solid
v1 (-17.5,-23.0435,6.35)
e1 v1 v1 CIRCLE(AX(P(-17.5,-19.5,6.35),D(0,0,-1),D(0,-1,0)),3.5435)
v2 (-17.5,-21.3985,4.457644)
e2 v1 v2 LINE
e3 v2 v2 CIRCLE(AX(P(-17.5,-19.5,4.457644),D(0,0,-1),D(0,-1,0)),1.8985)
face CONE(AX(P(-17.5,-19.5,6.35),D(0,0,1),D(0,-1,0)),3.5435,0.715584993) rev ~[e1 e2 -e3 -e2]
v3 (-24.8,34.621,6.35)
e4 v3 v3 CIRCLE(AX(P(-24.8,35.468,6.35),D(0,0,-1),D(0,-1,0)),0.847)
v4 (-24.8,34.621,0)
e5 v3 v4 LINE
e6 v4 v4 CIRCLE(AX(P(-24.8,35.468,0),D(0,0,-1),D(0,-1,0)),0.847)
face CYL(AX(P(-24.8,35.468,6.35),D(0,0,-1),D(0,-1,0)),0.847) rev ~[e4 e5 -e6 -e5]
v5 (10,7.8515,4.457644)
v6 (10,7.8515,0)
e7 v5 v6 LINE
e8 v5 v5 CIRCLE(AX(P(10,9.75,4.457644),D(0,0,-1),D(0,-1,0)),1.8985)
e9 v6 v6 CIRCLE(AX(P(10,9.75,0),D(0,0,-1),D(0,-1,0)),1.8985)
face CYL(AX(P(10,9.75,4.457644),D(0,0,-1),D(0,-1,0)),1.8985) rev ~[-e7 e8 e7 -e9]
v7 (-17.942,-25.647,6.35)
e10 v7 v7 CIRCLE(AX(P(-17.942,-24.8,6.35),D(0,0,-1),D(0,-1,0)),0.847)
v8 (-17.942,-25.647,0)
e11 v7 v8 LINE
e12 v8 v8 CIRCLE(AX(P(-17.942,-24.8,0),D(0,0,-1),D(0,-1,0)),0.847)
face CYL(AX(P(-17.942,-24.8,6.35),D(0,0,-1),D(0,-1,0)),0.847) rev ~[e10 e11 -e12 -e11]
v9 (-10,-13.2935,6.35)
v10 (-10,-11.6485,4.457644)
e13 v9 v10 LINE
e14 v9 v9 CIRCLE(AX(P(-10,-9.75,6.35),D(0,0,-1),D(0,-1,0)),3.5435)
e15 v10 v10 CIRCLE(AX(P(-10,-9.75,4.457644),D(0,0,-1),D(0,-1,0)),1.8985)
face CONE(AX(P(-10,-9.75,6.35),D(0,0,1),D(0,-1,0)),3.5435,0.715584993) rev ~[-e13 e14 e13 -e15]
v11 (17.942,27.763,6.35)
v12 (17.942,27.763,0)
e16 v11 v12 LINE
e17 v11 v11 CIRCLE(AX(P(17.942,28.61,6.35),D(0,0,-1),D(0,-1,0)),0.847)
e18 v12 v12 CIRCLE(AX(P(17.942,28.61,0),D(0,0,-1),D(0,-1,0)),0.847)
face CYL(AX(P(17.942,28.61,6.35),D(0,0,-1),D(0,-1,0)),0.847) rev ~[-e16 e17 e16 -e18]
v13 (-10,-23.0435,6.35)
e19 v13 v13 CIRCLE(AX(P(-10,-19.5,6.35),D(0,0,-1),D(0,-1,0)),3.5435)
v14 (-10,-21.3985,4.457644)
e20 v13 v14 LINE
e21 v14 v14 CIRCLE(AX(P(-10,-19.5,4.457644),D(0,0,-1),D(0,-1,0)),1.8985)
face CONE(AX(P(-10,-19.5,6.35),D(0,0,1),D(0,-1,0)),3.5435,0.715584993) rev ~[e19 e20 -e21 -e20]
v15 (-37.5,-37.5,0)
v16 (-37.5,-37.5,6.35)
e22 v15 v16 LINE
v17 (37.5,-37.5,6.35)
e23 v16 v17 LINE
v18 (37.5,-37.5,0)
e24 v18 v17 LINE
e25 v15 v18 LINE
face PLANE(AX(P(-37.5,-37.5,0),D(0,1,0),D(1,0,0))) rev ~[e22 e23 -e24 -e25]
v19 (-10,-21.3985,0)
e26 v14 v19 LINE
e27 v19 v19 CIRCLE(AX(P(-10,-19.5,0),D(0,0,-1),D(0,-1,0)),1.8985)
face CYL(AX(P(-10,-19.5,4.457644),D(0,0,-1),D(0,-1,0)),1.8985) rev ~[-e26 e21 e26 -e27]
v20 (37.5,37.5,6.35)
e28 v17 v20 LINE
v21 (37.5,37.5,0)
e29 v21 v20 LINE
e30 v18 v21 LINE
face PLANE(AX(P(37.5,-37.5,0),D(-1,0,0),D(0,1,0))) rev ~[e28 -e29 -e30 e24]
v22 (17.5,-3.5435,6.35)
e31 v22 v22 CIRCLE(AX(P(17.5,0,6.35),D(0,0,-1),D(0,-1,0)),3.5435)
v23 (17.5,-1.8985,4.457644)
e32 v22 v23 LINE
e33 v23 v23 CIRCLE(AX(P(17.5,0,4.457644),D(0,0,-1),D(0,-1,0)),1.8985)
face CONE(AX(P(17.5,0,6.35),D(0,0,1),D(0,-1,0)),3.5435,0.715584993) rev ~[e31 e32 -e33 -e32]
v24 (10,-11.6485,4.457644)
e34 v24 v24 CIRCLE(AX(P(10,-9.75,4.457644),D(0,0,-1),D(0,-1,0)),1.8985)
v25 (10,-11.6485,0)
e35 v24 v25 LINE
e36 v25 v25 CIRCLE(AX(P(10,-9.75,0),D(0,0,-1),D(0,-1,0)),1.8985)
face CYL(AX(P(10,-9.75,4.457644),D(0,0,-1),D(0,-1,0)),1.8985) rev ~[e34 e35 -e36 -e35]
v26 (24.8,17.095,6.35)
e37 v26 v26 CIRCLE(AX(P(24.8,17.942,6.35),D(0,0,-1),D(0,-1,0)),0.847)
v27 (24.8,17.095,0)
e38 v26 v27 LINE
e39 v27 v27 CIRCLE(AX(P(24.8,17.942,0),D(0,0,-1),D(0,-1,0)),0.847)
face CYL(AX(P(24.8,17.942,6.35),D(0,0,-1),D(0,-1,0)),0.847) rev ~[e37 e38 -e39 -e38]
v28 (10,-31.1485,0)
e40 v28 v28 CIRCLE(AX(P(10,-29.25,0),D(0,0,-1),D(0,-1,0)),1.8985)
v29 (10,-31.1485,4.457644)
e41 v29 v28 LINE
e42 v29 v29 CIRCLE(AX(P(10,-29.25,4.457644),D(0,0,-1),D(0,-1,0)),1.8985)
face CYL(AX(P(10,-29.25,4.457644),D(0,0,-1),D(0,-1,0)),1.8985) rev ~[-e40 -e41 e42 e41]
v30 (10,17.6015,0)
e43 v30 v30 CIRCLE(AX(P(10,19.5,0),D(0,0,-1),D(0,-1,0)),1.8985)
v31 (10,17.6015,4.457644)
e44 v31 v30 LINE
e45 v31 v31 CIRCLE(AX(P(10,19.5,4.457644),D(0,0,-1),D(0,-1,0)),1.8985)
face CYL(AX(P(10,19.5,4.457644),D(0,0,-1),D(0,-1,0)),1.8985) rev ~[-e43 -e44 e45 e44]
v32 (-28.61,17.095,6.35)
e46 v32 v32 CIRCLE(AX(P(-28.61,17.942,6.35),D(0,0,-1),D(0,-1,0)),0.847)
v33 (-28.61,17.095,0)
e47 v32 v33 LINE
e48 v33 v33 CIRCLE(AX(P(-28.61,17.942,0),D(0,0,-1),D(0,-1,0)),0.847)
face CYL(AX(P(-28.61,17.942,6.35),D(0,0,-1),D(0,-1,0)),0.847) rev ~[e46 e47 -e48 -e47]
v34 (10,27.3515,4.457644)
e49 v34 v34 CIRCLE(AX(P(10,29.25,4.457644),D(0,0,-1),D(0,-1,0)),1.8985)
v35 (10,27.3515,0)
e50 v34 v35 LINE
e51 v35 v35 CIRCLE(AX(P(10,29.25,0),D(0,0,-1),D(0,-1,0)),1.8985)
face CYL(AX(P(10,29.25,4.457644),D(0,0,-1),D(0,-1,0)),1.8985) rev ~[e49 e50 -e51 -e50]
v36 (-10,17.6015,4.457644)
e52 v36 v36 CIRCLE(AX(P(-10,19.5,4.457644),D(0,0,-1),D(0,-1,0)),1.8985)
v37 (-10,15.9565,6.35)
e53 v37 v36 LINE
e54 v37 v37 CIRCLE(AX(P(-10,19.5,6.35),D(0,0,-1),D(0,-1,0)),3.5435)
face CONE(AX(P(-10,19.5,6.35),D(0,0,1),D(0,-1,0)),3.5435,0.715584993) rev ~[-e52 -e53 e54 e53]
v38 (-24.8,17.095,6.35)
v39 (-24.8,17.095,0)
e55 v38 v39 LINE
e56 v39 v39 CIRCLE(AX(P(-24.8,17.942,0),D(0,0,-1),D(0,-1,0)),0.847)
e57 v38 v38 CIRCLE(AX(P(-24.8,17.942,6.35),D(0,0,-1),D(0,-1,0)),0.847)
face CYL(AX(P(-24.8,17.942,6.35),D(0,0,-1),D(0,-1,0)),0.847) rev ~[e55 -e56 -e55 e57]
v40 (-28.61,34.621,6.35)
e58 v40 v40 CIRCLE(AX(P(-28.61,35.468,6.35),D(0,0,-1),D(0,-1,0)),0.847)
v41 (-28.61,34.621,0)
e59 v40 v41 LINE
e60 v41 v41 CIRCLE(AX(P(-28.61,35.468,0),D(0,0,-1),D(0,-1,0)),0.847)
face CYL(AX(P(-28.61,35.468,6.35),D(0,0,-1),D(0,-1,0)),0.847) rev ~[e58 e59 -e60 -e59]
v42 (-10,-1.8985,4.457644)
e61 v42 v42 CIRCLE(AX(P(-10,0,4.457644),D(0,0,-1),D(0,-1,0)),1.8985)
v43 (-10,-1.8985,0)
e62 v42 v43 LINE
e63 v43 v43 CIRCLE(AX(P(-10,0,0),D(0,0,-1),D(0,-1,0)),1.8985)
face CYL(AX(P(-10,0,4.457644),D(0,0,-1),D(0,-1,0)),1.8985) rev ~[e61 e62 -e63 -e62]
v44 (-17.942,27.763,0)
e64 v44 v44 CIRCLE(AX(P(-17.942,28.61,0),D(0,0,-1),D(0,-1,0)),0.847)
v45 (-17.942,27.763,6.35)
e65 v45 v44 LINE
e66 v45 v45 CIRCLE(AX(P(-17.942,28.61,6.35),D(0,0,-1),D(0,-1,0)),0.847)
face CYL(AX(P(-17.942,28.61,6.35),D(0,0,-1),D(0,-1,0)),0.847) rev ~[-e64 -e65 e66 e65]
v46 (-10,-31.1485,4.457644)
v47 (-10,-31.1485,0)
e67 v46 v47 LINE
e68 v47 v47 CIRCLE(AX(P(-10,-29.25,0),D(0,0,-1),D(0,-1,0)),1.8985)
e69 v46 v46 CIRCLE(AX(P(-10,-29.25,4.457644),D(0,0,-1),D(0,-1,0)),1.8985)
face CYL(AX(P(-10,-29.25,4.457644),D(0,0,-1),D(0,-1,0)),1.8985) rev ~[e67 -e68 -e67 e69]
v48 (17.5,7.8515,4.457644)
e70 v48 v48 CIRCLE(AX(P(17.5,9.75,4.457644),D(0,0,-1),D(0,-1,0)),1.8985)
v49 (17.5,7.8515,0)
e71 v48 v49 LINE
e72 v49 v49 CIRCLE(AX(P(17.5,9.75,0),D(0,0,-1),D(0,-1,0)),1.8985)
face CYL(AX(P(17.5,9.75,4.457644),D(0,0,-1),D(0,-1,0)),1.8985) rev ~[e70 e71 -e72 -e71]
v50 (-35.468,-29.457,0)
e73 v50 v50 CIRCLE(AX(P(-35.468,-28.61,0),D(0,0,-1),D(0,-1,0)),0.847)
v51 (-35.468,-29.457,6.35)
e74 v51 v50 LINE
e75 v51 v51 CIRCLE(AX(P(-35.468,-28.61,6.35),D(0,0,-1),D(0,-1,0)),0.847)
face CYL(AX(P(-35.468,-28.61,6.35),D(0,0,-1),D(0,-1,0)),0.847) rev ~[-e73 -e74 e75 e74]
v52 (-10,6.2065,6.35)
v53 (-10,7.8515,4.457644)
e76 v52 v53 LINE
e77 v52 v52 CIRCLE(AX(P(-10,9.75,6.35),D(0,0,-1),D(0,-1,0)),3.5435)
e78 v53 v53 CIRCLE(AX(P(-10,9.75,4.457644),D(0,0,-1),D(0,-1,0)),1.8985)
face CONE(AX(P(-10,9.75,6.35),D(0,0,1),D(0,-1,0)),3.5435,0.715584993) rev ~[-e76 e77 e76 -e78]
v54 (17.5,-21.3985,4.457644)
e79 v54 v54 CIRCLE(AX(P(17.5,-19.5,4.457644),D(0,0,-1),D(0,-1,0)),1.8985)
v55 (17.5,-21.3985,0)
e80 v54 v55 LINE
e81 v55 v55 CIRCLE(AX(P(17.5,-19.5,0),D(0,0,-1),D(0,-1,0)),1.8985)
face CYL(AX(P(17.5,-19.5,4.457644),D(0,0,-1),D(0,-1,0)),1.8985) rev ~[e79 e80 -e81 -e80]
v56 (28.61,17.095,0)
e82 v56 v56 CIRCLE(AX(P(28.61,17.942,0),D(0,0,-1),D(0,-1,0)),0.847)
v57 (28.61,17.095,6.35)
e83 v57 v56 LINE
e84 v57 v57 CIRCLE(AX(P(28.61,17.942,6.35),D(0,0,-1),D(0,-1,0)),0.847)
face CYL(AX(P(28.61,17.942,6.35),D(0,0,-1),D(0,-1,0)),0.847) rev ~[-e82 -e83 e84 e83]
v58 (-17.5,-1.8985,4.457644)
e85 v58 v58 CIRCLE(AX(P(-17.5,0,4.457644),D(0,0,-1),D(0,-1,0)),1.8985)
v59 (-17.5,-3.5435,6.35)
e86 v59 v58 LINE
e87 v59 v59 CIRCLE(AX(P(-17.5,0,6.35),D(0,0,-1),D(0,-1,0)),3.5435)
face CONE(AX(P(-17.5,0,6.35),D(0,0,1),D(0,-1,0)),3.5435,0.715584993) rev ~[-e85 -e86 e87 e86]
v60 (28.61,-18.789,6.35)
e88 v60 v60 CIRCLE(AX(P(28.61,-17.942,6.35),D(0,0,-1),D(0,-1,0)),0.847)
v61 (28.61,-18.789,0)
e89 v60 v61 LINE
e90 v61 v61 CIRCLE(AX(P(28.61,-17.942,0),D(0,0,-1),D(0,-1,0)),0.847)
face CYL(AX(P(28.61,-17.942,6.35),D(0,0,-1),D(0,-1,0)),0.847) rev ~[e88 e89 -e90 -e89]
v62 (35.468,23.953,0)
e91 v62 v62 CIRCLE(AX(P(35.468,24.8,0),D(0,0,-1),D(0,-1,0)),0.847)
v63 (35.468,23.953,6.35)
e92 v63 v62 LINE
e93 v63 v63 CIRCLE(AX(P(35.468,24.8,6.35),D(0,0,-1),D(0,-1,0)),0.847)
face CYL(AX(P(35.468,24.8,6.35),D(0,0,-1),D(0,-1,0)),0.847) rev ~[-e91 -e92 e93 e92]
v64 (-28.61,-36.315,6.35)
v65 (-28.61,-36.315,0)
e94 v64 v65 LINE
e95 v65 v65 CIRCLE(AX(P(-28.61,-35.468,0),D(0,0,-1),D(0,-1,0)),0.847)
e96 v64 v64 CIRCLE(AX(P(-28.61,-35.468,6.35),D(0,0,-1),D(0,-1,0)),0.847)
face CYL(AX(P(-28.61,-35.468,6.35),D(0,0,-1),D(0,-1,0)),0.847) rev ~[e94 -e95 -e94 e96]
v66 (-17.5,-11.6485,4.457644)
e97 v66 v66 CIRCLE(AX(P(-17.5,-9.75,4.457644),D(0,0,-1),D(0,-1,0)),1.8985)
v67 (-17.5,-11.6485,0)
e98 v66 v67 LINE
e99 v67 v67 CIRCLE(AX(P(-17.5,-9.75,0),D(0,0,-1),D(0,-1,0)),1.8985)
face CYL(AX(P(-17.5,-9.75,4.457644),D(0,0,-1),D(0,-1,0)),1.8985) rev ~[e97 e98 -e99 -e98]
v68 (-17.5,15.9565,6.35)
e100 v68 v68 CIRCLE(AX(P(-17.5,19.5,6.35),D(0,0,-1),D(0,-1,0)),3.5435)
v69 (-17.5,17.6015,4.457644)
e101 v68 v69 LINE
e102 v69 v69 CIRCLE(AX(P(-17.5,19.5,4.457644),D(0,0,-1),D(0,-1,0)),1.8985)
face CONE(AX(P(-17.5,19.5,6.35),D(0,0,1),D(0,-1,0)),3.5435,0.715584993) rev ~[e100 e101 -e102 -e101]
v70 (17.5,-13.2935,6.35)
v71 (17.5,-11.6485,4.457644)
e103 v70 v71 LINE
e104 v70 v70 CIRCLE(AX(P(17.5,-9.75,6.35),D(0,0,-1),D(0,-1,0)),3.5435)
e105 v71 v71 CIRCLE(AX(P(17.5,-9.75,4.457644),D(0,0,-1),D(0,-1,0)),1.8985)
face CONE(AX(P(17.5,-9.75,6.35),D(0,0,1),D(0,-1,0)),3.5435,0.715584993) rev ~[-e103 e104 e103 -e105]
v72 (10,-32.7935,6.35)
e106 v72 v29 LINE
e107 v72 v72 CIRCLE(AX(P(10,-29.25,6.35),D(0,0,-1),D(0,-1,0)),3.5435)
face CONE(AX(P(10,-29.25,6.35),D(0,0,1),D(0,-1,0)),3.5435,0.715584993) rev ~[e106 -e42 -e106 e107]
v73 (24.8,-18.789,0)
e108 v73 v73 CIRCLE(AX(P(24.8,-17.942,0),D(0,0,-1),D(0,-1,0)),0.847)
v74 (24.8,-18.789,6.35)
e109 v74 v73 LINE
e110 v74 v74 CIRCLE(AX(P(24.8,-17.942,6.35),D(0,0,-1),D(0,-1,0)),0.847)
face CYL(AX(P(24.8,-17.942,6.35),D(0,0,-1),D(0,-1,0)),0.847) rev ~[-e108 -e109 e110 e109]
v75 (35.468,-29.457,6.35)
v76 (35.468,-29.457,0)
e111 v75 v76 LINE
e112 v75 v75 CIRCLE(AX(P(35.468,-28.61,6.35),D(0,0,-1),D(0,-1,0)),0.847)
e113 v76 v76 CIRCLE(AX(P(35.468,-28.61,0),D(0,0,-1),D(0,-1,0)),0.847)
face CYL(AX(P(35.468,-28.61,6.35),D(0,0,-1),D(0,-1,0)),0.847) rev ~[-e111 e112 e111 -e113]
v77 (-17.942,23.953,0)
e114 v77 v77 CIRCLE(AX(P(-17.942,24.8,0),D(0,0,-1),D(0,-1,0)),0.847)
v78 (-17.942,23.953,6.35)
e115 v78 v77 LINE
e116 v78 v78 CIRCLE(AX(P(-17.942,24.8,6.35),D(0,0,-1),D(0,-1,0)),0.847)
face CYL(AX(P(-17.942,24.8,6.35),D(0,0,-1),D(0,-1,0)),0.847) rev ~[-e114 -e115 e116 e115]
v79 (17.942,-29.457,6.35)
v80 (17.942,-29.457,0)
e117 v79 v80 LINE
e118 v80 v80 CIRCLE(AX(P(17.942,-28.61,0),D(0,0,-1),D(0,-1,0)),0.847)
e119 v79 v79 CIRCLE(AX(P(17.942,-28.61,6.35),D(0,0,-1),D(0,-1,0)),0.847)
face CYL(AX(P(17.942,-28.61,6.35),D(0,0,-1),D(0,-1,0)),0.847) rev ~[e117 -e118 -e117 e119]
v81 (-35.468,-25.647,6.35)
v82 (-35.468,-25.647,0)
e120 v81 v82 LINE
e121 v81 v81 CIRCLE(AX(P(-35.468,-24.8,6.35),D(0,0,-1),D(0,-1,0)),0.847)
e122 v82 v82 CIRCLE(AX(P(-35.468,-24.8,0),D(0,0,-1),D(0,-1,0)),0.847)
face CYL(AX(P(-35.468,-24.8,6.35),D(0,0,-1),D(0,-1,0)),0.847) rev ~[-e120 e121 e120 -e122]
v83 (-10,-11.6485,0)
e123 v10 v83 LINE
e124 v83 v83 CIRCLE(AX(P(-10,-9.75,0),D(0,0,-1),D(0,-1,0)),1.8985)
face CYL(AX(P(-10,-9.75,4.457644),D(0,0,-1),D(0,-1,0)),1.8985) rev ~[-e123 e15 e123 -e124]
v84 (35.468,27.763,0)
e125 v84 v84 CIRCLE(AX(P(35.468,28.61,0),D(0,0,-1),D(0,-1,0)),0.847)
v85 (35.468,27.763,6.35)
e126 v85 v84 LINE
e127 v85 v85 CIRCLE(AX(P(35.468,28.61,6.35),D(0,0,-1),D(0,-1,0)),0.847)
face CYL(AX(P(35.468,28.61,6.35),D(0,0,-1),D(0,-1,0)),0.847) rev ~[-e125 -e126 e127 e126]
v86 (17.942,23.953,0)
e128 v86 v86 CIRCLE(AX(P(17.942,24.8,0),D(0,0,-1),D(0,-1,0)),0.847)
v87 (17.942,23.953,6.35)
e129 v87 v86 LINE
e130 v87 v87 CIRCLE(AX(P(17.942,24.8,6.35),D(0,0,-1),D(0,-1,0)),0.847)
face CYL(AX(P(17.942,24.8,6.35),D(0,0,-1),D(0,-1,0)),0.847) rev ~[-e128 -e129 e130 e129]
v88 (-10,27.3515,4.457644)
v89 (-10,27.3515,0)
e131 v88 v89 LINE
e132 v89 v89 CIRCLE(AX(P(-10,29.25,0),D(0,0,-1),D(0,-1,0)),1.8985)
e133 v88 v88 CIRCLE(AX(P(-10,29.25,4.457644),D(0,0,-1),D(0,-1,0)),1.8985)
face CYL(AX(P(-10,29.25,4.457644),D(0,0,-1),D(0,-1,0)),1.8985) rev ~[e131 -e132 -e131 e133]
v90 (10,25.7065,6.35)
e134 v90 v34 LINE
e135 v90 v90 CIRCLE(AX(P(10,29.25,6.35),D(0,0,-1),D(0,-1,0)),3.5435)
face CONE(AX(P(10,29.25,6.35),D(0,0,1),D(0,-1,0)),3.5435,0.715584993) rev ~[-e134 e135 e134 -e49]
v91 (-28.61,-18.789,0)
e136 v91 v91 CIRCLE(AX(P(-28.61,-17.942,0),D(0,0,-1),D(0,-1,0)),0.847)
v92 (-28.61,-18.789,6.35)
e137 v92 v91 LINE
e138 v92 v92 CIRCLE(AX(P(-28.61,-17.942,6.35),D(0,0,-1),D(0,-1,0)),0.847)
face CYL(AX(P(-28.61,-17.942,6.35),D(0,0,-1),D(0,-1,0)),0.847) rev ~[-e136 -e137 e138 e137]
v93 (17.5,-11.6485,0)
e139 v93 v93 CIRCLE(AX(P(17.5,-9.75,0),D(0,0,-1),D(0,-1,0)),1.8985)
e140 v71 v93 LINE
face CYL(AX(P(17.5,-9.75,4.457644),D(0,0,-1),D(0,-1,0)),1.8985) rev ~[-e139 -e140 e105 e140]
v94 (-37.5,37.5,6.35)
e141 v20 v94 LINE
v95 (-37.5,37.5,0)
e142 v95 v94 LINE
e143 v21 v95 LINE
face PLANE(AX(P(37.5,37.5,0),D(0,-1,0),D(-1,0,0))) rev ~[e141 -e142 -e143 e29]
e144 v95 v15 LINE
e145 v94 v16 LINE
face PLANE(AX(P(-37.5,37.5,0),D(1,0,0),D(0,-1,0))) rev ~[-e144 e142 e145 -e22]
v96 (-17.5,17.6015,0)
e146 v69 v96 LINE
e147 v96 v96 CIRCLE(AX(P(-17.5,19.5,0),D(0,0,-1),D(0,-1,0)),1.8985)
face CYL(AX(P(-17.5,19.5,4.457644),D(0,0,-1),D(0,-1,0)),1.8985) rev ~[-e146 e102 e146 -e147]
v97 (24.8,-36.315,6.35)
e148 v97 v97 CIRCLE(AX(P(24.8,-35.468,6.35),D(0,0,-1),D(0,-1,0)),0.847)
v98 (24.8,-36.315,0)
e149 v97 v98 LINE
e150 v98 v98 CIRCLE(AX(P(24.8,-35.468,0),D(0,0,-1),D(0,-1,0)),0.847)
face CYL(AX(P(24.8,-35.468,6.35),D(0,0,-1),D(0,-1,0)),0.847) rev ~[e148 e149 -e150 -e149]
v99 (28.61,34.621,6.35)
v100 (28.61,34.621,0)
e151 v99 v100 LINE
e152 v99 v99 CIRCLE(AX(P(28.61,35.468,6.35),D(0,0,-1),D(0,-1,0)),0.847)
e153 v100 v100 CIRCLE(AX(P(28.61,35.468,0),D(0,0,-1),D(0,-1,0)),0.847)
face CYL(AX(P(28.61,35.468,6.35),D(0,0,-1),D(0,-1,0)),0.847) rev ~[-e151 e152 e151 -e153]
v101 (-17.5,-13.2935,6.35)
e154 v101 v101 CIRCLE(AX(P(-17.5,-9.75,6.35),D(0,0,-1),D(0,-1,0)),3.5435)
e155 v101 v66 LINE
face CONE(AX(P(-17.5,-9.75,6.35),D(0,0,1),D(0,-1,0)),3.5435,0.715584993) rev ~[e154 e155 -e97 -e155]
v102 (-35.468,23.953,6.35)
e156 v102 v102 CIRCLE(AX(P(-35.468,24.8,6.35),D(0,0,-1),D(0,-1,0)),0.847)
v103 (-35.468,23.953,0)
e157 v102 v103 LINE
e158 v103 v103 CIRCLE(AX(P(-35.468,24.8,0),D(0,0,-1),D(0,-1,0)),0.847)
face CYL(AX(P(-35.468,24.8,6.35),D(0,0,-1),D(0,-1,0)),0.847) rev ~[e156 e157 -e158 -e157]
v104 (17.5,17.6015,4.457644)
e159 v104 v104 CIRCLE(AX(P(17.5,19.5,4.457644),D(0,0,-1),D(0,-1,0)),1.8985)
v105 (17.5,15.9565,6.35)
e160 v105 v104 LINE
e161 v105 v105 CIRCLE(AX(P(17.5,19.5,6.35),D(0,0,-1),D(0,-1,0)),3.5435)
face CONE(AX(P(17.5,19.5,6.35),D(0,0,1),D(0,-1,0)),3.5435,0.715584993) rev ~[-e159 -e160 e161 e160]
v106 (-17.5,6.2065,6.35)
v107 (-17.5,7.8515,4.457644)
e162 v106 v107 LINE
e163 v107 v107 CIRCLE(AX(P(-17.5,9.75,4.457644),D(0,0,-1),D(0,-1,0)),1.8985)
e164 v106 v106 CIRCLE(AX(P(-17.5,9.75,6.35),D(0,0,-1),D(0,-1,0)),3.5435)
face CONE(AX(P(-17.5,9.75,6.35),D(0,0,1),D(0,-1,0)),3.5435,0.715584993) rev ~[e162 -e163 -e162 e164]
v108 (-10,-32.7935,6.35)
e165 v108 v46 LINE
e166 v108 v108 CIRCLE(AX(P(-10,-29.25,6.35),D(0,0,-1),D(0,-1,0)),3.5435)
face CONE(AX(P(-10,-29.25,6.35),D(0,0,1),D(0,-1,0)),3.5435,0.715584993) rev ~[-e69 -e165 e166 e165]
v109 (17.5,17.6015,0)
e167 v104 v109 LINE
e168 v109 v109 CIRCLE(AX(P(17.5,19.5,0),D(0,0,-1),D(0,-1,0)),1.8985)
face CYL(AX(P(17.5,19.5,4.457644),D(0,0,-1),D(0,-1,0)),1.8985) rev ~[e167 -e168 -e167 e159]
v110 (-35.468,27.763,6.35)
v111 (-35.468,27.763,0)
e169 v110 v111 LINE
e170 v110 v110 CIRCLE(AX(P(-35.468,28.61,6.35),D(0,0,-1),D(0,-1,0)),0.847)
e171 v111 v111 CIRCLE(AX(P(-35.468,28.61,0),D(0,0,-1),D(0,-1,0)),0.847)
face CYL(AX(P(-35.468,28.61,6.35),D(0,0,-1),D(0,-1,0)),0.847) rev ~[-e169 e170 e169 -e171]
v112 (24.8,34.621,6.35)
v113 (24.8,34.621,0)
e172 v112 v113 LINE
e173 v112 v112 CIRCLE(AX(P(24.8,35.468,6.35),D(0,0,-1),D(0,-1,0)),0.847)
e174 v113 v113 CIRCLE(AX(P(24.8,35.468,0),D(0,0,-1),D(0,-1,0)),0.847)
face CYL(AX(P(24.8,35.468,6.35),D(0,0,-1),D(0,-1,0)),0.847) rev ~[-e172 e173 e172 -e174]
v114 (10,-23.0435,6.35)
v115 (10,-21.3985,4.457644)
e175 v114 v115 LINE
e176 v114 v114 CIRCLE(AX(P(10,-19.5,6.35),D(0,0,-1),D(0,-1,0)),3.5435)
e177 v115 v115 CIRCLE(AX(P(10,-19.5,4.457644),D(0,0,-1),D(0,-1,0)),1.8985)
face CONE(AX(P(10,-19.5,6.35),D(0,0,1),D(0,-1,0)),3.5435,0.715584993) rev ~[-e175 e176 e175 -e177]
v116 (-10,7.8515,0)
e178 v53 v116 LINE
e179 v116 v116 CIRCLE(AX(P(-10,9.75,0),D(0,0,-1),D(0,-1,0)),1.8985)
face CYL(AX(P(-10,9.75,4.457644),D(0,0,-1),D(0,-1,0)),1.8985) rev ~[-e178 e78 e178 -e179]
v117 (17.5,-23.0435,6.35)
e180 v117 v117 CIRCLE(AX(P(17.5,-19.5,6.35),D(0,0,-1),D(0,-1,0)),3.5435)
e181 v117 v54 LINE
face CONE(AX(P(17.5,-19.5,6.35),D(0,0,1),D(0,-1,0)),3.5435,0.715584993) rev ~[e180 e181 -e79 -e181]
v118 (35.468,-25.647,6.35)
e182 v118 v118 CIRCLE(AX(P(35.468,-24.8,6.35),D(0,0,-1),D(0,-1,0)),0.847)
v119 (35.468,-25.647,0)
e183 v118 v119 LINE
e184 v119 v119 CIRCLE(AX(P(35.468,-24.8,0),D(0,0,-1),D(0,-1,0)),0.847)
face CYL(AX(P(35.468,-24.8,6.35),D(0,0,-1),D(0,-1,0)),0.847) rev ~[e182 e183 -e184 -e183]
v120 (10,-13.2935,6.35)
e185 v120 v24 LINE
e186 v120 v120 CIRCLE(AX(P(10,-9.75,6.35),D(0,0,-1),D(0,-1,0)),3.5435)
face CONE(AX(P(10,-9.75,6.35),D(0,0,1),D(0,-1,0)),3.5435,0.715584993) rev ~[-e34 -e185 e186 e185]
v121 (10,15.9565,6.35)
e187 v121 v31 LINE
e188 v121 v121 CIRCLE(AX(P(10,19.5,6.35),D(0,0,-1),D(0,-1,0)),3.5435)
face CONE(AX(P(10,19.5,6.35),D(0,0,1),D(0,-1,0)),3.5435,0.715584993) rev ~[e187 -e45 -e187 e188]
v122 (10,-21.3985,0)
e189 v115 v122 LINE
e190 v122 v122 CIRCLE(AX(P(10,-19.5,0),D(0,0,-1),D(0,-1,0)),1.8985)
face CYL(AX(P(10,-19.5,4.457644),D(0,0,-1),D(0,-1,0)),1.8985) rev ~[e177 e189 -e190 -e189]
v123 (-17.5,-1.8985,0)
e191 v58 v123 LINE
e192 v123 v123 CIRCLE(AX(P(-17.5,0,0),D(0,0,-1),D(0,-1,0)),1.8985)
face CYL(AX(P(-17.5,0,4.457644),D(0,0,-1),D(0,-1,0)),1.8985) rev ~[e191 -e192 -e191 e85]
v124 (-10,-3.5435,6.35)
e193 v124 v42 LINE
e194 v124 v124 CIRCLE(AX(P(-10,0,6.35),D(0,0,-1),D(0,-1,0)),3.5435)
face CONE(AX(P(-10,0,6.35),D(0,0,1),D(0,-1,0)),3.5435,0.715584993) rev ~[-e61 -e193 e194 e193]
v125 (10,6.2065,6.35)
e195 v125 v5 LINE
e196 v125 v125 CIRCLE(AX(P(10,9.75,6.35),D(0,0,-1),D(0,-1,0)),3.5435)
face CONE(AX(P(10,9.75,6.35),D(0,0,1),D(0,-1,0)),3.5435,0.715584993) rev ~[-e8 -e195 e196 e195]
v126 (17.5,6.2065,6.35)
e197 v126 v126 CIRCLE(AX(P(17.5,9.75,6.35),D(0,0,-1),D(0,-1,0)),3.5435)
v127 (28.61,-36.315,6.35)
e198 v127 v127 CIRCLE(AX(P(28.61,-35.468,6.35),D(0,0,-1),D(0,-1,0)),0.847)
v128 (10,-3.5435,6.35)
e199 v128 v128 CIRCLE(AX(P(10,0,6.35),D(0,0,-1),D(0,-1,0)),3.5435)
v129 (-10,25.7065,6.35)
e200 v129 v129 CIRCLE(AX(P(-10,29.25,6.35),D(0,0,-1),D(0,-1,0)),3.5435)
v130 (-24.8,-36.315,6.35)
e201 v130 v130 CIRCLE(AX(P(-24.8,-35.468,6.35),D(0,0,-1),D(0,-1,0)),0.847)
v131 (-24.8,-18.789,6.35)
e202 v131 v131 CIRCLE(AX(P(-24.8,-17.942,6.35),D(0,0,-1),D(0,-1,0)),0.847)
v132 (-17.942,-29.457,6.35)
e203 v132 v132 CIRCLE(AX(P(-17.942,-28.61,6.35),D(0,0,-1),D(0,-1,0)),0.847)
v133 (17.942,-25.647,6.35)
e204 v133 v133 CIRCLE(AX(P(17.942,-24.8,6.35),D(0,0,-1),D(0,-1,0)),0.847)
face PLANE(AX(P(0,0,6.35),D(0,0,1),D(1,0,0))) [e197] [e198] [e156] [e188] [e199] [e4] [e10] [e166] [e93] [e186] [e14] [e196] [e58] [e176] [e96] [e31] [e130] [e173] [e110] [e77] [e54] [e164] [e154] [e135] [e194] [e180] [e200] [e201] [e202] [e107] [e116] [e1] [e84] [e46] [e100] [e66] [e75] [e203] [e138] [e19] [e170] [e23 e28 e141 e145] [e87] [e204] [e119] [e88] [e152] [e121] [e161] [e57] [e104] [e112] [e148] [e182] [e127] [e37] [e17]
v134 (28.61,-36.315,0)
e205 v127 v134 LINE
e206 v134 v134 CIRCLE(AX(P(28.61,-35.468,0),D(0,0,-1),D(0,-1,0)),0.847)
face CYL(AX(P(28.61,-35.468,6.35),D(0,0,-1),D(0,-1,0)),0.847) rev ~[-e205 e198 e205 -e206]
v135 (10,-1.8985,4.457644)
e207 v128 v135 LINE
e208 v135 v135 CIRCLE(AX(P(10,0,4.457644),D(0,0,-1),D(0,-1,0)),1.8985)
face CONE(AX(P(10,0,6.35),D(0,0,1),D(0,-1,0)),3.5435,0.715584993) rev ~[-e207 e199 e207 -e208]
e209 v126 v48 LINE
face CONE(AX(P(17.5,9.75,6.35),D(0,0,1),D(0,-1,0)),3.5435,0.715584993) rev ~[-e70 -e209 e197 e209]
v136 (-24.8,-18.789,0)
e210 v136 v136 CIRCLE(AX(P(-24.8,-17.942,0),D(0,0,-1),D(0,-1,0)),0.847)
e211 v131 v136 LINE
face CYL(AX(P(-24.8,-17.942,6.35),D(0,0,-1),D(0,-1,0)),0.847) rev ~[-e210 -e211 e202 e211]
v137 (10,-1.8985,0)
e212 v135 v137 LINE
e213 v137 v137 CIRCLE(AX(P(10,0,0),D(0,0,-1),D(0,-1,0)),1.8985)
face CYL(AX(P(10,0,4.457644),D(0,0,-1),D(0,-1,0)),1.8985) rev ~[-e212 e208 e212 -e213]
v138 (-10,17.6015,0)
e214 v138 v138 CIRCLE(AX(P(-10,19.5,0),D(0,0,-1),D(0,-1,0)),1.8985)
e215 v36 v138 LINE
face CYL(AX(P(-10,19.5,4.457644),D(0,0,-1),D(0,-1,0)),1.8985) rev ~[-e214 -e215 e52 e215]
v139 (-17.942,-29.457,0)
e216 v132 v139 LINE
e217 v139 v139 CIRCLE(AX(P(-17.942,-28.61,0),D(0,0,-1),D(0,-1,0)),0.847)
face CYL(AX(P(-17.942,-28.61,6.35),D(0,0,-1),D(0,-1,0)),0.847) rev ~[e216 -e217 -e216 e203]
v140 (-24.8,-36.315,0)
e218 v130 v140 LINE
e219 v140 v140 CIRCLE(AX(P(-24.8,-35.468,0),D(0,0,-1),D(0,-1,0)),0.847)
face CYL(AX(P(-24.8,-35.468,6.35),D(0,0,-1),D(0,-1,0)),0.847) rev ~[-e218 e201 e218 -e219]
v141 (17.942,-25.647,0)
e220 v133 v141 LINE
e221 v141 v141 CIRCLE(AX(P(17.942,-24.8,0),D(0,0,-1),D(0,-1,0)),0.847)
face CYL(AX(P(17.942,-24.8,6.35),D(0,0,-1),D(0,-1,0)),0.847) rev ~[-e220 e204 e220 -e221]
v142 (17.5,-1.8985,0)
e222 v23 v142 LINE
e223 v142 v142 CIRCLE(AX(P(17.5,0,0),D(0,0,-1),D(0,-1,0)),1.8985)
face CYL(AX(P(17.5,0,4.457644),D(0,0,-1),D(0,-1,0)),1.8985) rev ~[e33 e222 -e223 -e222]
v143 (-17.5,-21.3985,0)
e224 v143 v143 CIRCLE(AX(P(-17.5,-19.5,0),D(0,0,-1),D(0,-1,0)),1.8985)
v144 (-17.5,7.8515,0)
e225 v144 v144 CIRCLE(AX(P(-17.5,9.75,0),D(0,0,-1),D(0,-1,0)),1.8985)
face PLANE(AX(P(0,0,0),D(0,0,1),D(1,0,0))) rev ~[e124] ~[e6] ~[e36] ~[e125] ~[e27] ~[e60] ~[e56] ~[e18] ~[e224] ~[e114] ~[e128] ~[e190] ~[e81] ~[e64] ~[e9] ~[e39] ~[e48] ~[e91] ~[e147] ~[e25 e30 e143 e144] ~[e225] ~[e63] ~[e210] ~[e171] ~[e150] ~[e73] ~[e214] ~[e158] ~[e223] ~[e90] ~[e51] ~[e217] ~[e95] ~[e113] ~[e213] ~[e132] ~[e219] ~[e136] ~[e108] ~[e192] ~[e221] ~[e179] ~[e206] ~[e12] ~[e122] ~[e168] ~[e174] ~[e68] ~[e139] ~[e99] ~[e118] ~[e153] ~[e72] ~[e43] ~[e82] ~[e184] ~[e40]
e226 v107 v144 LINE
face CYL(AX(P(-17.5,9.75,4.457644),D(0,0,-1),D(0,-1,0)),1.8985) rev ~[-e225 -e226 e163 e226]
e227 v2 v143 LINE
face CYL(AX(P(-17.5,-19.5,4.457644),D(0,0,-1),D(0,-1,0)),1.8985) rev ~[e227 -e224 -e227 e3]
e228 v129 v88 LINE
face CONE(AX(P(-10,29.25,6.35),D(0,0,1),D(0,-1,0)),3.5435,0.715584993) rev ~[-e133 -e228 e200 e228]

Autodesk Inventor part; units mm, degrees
ref_plane "YZ Plane" through (0, 0, 0) normal (1, 0, 0) x (0, 1, 0)
ref_plane "XZ Plane" through (0, 0, 0) normal (0, 1, 0) x (-1, 0, 0)
ref_plane "XY Plane" through (0, 0, 0) normal (0, 0, 1) x (1, 0, 0)
sketch "Sketch1" plane through (0, 0, 0) normal (0, 0, 1) x (1, 0, 0)
  line L0 (-37.5, -37.5) -> (37.5, -37.5)
  line L1 (37.5, -37.5) -> (37.5, 37.5)
  line L2 (37.5, 37.5) -> (-37.5, 37.5)
  line L3 (-37.5, 37.5) -> (-37.5, -37.5)
  line L4 (-37.5, -37.5) -> (37.5, 37.5) construction
  line L5 (37.5, -37.5) -> (-37.5, 37.5) construction
  point P0 (0, 0)
  dimension "d0" = 75
  dimension "d1" = 75
extrude "Extrusion1" add sketch "Sketch1" along normal blind 6.35
sketch "Sketch2" plane through (0, 0, 6.35) normal (0, 0, 1) x (1, 0, 0)
  line L0 (-15.91, 15.91) -> (-37.5, 15.91) construction
  line L1 (-37.5, 15.91) -> (-37.5, 37.5) construction
  line L2 (-37.5, 37.5) -> (-15.91, 37.5) construction
  line L3 (-15.91, 37.5) -> (-15.91, 15.91) construction
  line L4 (-15.91, 15.91) -> (-37.5, 37.5) construction
  line L5 (-37.5, 15.91) -> (-15.91, 37.5) construction
  line L6 (-15.91, -15.91) -> (-15.91, -37.5) construction
  line L7 (-15.91, -37.5) -> (-37.5, -37.5) construction
  line L8 (-37.5, -37.5) -> (-37.5, -15.91) construction
  line L9 (-37.5, -15.91) -> (-15.91, -15.91) construction
  line L10 (-15.91, -15.91) -> (-37.5, -37.5) construction
  line L11 (-15.91, -37.5) -> (-37.5, -15.91) construction
  line L12 (15.91, -15.91) -> (37.5, -15.91) construction
  line L13 (37.5, -15.91) -> (37.5, -37.5) construction
  line L14 (37.5, -37.5) -> (15.91, -37.5) construction
  line L15 (15.91, -37.5) -> (15.91, -15.91) construction
  line L16 (15.91, -15.91) -> (37.5, -37.5) construction
  line L17 (37.5, -15.91) -> (15.91, -37.5) construction
  line L18 (15.91, 15.91) -> (15.91, 37.5) construction
  line L19 (15.91, 37.5) -> (37.5, 37.5) construction
  line L20 (37.5, 37.5) -> (37.5, 15.91) construction
  line L21 (37.5, 15.91) -> (15.91, 15.91) construction
  line L22 (15.91, 15.91) -> (37.5, 37.5) construction
  line L23 (15.91, 37.5) -> (37.5, 15.91) construction
  line L24 (37.5, 37.5) -> (-37.5, 37.5) projected
  line L25 (-37.5, 37.5) -> (-37.5, -37.5) projected
  point P0 (0, 0)
  point P1 (-26.705, 26.705)
  point P2 (-24.8, 35.468)
  point P3 (-35.468, 24.8)
  point P4 (-35.468, 28.61)
  point P5 (-24.8, 17.942)
  point P6 (-28.61, 17.942)
  point P7 (-17.942, 28.61)
  point P8 (-17.942, 24.8)
  point P9 (-28.61, 35.468)
  point P10 (-26.705, -26.705)
  point P11 (-35.468, -28.61)
  point P12 (-24.8, -17.942)
  point P13 (-28.61, -17.942)
  point P14 (-17.942, -28.61)
  point P15 (-17.942, -24.8)
  point P16 (-28.61, -35.468)
  point P17 (-24.8, -35.468)
  point P18 (-35.468, -24.8)
  point P19 (26.705, -26.705)
  point P20 (28.61, -35.468)
  point P21 (17.942, -24.8)
  point P22 (17.942, -28.61)
  point P23 (28.61, -17.942)
  point P24 (24.8, -17.942)
  point P25 (35.468, -28.61)
  point P26 (35.468, -24.8)
  point P27 (24.8, -35.468)
  point P28 (26.705, 26.705)
  point P29 (35.468, 28.61)
  point P30 (24.8, 17.942)
  point P31 (28.61, 17.942)
  point P32 (17.942, 28.61)
  point P33 (17.942, 24.8)
  point P34 (28.61, 35.468)
  point P35 (24.8, 35.468)
  point P36 (35.468, 24.8)
  dimension "d4" = 21.59
  dimension "d5" = 21.59
  dimension "d6" = 2.032
  dimension "d7" = 12.7
  dimension "d10" = 360
  dimension "d15" = 360
hole "Hole1" at (-24.8, 35.468, 6.35) at (-35.468, 24.8, 6.35) at (-35.468, 28.61, 6.35) at (-24.8, 17.942, 6.35) at (-28.61, 17.942, 6.35) at (-17.942, 28.61, 6.35) at (-17.942, 24.8, 6.35) at (-28.61, 35.468, 6.35) at (-35.468, -28.61, 6.35) at (-24.8, -17.942, 6.35) at (-28.61, -17.942, 6.35) at (-17.942, -28.61, 6.35) at (-17.942, -24.8, 6.35) at (-28.61, -35.468, 6.35) at (-24.8, -35.468, 6.35) at (-35.468, -24.8, 6.35) at (28.61, -35.468, 6.35) at (17.942, -24.8, 6.35) at (17.942, -28.61, 6.35) at (28.61, -17.942, 6.35) at (24.8, -17.942, 6.35) at (35.468, -28.61, 6.35) at (35.468, -24.8, 6.35) at (24.8, -35.468, 6.35) at (35.468, 28.61, 6.35) at (24.8, 17.942, 6.35) at (28.61, 17.942, 6.35) at (17.942, 28.61, 6.35) at (17.942, 24.8, 6.35) at (28.61, 35.468, 6.35) at (24.8, 35.468, 6.35) at (35.468, 24.8, 6.35) direction (0, 0, -1) diameter 1.694 depth 6.637 tip angle 118 thread size "2-56 UNC" class "2B" standard "ANSI Unified Screw Threads"
sketch "Sketch3" plane through (0, 0, 6.35) normal (0, 0, 1) x (1, 0, 0)
  line L0 (-37.5, 37.5) -> (-37.5, -37.5) construction
  line L1 (37.5, -37.5) -> (37.5, 37.5) construction
  line L2 (37.5, 37.5) -> (-37.5, 37.5) construction
  line L3 (-37.5, 37.5) -> (-37.5, -37.5) construction
  line L4 (-17.5, -19.5) -> (17.5, -19.5) construction
  line L5 (37.5, 37.5) -> (-37.5, 37.5) construction
  line L6 (-37.5, -37.5) -> (37.5, -37.5) construction
  circle A0 centre (-17.942, 24.8) radius 0.847 projected
  circle A1 centre (-17.942, -24.8) radius 0.847 projected
  point P0 (-17.5, -9.75)
  point P1 (17.5, -9.75)
  point P2 (-17.5, 0)
  point P3 (17.5, 0)
  point P4 (-17.5, 9.75)
  point P5 (17.5, 9.75)
  point P6 (-17.5, 19.5)
  point P7 (17.5, 19.5)
  dimension "d67" = 35
  dimension "d97" = 18
  dimension "d114" = 9.75
hole "Hole7" at (-17.5, -19.5, 6.35) at (17.5, -19.5, 6.35) at (-17.5, -9.75, 6.35) at (17.5, -9.75, 6.35) at (-17.5, 0, 6.35) at (17.5, 0, 6.35) at (-17.5, 9.75, 6.35) at (17.5, 9.75, 6.35) at (-17.5, 19.5, 6.35) at (17.5, 19.5, 6.35) direction (0, 0, -1) diameter 3.797 depth 10.979 tip angle 118 countersink diameter 7.087 countersink angle 82 clearance for "Flat Head Machine Screw (82)" size "#6" standard "Ansi Unified Screw Threads"
sketch "Sketch4" plane through (0, 0, 6.35) normal (0, 0, 1) x (1, 0, 0)
  circle A0 centre (-17.5, -19.5) radius 1.8985 construction
  circle A1 centre (17.5, -19.5) radius 1.8985 construction
  circle A2 centre (17.5, -19.5) radius 1.8985 construction
  line L0 (-17.5, -19.5) -> (17.5, -19.5) construction
  line L1 (0, 0) -> (0, -37.5) construction
  line L2 (-37.5, -37.5) -> (37.5, -37.5) construction
  point P0 (-10, -19.5)
  point P1 (10, -19.5)
  point P2 (-10, -9.75)
  point P3 (10, -9.75)
  point P4 (-10, 0)
  point P5 (10, 0)
  point P6 (-10, 9.75)
  point P7 (10, 9.75)
  point P8 (-10, 19.5)
  point P9 (10, 19.5)
  point P10 (-10, 29.25)
  point P11 (10, 29.25)
  point P12 (-10, -29.25)
  point P13 (10, -29.25)
  point P14 (-10, -19.5)
  point P15 (10, -19.5)
  point P16 (-10, -9.75)
  point P17 (10, -9.75)
  point P18 (-10, 0)
  point P19 (10, 0)
  point P20 (-10, 9.75)
  point P21 (10, 9.75)
  point P22 (-10, 19.5)
  point P23 (10, 19.5)
  dimension "d126" = 10
  dimension "d129" = 9.75
  dimension "d132" = 9.75
hole "Hole8" at (-10, -19.5, 6.35) at (10, -19.5, 6.35) at (-10, -9.75, 6.35) at (10, -9.75, 6.35) at (-10, 0, 6.35) at (10, 0, 6.35) at (-10, 9.75, 6.35) at (10, 9.75, 6.35) at (-10, 19.5, 6.35) at (10, 19.5, 6.35) at (-10, 29.25, 6.35) at (10, 29.25, 6.35) at (-10, -29.25, 6.35) at (10, -29.25, 6.35) direction (0, 0, -1) diameter 3.797 depth 10.979 tip angle 118 countersink diameter 7.087 countersink angle 82 clearance for "Flat Head Machine Screw (82)" size "#6" standard "Ansi Unified Screw Threads"
properties part number "6dof_plate"
